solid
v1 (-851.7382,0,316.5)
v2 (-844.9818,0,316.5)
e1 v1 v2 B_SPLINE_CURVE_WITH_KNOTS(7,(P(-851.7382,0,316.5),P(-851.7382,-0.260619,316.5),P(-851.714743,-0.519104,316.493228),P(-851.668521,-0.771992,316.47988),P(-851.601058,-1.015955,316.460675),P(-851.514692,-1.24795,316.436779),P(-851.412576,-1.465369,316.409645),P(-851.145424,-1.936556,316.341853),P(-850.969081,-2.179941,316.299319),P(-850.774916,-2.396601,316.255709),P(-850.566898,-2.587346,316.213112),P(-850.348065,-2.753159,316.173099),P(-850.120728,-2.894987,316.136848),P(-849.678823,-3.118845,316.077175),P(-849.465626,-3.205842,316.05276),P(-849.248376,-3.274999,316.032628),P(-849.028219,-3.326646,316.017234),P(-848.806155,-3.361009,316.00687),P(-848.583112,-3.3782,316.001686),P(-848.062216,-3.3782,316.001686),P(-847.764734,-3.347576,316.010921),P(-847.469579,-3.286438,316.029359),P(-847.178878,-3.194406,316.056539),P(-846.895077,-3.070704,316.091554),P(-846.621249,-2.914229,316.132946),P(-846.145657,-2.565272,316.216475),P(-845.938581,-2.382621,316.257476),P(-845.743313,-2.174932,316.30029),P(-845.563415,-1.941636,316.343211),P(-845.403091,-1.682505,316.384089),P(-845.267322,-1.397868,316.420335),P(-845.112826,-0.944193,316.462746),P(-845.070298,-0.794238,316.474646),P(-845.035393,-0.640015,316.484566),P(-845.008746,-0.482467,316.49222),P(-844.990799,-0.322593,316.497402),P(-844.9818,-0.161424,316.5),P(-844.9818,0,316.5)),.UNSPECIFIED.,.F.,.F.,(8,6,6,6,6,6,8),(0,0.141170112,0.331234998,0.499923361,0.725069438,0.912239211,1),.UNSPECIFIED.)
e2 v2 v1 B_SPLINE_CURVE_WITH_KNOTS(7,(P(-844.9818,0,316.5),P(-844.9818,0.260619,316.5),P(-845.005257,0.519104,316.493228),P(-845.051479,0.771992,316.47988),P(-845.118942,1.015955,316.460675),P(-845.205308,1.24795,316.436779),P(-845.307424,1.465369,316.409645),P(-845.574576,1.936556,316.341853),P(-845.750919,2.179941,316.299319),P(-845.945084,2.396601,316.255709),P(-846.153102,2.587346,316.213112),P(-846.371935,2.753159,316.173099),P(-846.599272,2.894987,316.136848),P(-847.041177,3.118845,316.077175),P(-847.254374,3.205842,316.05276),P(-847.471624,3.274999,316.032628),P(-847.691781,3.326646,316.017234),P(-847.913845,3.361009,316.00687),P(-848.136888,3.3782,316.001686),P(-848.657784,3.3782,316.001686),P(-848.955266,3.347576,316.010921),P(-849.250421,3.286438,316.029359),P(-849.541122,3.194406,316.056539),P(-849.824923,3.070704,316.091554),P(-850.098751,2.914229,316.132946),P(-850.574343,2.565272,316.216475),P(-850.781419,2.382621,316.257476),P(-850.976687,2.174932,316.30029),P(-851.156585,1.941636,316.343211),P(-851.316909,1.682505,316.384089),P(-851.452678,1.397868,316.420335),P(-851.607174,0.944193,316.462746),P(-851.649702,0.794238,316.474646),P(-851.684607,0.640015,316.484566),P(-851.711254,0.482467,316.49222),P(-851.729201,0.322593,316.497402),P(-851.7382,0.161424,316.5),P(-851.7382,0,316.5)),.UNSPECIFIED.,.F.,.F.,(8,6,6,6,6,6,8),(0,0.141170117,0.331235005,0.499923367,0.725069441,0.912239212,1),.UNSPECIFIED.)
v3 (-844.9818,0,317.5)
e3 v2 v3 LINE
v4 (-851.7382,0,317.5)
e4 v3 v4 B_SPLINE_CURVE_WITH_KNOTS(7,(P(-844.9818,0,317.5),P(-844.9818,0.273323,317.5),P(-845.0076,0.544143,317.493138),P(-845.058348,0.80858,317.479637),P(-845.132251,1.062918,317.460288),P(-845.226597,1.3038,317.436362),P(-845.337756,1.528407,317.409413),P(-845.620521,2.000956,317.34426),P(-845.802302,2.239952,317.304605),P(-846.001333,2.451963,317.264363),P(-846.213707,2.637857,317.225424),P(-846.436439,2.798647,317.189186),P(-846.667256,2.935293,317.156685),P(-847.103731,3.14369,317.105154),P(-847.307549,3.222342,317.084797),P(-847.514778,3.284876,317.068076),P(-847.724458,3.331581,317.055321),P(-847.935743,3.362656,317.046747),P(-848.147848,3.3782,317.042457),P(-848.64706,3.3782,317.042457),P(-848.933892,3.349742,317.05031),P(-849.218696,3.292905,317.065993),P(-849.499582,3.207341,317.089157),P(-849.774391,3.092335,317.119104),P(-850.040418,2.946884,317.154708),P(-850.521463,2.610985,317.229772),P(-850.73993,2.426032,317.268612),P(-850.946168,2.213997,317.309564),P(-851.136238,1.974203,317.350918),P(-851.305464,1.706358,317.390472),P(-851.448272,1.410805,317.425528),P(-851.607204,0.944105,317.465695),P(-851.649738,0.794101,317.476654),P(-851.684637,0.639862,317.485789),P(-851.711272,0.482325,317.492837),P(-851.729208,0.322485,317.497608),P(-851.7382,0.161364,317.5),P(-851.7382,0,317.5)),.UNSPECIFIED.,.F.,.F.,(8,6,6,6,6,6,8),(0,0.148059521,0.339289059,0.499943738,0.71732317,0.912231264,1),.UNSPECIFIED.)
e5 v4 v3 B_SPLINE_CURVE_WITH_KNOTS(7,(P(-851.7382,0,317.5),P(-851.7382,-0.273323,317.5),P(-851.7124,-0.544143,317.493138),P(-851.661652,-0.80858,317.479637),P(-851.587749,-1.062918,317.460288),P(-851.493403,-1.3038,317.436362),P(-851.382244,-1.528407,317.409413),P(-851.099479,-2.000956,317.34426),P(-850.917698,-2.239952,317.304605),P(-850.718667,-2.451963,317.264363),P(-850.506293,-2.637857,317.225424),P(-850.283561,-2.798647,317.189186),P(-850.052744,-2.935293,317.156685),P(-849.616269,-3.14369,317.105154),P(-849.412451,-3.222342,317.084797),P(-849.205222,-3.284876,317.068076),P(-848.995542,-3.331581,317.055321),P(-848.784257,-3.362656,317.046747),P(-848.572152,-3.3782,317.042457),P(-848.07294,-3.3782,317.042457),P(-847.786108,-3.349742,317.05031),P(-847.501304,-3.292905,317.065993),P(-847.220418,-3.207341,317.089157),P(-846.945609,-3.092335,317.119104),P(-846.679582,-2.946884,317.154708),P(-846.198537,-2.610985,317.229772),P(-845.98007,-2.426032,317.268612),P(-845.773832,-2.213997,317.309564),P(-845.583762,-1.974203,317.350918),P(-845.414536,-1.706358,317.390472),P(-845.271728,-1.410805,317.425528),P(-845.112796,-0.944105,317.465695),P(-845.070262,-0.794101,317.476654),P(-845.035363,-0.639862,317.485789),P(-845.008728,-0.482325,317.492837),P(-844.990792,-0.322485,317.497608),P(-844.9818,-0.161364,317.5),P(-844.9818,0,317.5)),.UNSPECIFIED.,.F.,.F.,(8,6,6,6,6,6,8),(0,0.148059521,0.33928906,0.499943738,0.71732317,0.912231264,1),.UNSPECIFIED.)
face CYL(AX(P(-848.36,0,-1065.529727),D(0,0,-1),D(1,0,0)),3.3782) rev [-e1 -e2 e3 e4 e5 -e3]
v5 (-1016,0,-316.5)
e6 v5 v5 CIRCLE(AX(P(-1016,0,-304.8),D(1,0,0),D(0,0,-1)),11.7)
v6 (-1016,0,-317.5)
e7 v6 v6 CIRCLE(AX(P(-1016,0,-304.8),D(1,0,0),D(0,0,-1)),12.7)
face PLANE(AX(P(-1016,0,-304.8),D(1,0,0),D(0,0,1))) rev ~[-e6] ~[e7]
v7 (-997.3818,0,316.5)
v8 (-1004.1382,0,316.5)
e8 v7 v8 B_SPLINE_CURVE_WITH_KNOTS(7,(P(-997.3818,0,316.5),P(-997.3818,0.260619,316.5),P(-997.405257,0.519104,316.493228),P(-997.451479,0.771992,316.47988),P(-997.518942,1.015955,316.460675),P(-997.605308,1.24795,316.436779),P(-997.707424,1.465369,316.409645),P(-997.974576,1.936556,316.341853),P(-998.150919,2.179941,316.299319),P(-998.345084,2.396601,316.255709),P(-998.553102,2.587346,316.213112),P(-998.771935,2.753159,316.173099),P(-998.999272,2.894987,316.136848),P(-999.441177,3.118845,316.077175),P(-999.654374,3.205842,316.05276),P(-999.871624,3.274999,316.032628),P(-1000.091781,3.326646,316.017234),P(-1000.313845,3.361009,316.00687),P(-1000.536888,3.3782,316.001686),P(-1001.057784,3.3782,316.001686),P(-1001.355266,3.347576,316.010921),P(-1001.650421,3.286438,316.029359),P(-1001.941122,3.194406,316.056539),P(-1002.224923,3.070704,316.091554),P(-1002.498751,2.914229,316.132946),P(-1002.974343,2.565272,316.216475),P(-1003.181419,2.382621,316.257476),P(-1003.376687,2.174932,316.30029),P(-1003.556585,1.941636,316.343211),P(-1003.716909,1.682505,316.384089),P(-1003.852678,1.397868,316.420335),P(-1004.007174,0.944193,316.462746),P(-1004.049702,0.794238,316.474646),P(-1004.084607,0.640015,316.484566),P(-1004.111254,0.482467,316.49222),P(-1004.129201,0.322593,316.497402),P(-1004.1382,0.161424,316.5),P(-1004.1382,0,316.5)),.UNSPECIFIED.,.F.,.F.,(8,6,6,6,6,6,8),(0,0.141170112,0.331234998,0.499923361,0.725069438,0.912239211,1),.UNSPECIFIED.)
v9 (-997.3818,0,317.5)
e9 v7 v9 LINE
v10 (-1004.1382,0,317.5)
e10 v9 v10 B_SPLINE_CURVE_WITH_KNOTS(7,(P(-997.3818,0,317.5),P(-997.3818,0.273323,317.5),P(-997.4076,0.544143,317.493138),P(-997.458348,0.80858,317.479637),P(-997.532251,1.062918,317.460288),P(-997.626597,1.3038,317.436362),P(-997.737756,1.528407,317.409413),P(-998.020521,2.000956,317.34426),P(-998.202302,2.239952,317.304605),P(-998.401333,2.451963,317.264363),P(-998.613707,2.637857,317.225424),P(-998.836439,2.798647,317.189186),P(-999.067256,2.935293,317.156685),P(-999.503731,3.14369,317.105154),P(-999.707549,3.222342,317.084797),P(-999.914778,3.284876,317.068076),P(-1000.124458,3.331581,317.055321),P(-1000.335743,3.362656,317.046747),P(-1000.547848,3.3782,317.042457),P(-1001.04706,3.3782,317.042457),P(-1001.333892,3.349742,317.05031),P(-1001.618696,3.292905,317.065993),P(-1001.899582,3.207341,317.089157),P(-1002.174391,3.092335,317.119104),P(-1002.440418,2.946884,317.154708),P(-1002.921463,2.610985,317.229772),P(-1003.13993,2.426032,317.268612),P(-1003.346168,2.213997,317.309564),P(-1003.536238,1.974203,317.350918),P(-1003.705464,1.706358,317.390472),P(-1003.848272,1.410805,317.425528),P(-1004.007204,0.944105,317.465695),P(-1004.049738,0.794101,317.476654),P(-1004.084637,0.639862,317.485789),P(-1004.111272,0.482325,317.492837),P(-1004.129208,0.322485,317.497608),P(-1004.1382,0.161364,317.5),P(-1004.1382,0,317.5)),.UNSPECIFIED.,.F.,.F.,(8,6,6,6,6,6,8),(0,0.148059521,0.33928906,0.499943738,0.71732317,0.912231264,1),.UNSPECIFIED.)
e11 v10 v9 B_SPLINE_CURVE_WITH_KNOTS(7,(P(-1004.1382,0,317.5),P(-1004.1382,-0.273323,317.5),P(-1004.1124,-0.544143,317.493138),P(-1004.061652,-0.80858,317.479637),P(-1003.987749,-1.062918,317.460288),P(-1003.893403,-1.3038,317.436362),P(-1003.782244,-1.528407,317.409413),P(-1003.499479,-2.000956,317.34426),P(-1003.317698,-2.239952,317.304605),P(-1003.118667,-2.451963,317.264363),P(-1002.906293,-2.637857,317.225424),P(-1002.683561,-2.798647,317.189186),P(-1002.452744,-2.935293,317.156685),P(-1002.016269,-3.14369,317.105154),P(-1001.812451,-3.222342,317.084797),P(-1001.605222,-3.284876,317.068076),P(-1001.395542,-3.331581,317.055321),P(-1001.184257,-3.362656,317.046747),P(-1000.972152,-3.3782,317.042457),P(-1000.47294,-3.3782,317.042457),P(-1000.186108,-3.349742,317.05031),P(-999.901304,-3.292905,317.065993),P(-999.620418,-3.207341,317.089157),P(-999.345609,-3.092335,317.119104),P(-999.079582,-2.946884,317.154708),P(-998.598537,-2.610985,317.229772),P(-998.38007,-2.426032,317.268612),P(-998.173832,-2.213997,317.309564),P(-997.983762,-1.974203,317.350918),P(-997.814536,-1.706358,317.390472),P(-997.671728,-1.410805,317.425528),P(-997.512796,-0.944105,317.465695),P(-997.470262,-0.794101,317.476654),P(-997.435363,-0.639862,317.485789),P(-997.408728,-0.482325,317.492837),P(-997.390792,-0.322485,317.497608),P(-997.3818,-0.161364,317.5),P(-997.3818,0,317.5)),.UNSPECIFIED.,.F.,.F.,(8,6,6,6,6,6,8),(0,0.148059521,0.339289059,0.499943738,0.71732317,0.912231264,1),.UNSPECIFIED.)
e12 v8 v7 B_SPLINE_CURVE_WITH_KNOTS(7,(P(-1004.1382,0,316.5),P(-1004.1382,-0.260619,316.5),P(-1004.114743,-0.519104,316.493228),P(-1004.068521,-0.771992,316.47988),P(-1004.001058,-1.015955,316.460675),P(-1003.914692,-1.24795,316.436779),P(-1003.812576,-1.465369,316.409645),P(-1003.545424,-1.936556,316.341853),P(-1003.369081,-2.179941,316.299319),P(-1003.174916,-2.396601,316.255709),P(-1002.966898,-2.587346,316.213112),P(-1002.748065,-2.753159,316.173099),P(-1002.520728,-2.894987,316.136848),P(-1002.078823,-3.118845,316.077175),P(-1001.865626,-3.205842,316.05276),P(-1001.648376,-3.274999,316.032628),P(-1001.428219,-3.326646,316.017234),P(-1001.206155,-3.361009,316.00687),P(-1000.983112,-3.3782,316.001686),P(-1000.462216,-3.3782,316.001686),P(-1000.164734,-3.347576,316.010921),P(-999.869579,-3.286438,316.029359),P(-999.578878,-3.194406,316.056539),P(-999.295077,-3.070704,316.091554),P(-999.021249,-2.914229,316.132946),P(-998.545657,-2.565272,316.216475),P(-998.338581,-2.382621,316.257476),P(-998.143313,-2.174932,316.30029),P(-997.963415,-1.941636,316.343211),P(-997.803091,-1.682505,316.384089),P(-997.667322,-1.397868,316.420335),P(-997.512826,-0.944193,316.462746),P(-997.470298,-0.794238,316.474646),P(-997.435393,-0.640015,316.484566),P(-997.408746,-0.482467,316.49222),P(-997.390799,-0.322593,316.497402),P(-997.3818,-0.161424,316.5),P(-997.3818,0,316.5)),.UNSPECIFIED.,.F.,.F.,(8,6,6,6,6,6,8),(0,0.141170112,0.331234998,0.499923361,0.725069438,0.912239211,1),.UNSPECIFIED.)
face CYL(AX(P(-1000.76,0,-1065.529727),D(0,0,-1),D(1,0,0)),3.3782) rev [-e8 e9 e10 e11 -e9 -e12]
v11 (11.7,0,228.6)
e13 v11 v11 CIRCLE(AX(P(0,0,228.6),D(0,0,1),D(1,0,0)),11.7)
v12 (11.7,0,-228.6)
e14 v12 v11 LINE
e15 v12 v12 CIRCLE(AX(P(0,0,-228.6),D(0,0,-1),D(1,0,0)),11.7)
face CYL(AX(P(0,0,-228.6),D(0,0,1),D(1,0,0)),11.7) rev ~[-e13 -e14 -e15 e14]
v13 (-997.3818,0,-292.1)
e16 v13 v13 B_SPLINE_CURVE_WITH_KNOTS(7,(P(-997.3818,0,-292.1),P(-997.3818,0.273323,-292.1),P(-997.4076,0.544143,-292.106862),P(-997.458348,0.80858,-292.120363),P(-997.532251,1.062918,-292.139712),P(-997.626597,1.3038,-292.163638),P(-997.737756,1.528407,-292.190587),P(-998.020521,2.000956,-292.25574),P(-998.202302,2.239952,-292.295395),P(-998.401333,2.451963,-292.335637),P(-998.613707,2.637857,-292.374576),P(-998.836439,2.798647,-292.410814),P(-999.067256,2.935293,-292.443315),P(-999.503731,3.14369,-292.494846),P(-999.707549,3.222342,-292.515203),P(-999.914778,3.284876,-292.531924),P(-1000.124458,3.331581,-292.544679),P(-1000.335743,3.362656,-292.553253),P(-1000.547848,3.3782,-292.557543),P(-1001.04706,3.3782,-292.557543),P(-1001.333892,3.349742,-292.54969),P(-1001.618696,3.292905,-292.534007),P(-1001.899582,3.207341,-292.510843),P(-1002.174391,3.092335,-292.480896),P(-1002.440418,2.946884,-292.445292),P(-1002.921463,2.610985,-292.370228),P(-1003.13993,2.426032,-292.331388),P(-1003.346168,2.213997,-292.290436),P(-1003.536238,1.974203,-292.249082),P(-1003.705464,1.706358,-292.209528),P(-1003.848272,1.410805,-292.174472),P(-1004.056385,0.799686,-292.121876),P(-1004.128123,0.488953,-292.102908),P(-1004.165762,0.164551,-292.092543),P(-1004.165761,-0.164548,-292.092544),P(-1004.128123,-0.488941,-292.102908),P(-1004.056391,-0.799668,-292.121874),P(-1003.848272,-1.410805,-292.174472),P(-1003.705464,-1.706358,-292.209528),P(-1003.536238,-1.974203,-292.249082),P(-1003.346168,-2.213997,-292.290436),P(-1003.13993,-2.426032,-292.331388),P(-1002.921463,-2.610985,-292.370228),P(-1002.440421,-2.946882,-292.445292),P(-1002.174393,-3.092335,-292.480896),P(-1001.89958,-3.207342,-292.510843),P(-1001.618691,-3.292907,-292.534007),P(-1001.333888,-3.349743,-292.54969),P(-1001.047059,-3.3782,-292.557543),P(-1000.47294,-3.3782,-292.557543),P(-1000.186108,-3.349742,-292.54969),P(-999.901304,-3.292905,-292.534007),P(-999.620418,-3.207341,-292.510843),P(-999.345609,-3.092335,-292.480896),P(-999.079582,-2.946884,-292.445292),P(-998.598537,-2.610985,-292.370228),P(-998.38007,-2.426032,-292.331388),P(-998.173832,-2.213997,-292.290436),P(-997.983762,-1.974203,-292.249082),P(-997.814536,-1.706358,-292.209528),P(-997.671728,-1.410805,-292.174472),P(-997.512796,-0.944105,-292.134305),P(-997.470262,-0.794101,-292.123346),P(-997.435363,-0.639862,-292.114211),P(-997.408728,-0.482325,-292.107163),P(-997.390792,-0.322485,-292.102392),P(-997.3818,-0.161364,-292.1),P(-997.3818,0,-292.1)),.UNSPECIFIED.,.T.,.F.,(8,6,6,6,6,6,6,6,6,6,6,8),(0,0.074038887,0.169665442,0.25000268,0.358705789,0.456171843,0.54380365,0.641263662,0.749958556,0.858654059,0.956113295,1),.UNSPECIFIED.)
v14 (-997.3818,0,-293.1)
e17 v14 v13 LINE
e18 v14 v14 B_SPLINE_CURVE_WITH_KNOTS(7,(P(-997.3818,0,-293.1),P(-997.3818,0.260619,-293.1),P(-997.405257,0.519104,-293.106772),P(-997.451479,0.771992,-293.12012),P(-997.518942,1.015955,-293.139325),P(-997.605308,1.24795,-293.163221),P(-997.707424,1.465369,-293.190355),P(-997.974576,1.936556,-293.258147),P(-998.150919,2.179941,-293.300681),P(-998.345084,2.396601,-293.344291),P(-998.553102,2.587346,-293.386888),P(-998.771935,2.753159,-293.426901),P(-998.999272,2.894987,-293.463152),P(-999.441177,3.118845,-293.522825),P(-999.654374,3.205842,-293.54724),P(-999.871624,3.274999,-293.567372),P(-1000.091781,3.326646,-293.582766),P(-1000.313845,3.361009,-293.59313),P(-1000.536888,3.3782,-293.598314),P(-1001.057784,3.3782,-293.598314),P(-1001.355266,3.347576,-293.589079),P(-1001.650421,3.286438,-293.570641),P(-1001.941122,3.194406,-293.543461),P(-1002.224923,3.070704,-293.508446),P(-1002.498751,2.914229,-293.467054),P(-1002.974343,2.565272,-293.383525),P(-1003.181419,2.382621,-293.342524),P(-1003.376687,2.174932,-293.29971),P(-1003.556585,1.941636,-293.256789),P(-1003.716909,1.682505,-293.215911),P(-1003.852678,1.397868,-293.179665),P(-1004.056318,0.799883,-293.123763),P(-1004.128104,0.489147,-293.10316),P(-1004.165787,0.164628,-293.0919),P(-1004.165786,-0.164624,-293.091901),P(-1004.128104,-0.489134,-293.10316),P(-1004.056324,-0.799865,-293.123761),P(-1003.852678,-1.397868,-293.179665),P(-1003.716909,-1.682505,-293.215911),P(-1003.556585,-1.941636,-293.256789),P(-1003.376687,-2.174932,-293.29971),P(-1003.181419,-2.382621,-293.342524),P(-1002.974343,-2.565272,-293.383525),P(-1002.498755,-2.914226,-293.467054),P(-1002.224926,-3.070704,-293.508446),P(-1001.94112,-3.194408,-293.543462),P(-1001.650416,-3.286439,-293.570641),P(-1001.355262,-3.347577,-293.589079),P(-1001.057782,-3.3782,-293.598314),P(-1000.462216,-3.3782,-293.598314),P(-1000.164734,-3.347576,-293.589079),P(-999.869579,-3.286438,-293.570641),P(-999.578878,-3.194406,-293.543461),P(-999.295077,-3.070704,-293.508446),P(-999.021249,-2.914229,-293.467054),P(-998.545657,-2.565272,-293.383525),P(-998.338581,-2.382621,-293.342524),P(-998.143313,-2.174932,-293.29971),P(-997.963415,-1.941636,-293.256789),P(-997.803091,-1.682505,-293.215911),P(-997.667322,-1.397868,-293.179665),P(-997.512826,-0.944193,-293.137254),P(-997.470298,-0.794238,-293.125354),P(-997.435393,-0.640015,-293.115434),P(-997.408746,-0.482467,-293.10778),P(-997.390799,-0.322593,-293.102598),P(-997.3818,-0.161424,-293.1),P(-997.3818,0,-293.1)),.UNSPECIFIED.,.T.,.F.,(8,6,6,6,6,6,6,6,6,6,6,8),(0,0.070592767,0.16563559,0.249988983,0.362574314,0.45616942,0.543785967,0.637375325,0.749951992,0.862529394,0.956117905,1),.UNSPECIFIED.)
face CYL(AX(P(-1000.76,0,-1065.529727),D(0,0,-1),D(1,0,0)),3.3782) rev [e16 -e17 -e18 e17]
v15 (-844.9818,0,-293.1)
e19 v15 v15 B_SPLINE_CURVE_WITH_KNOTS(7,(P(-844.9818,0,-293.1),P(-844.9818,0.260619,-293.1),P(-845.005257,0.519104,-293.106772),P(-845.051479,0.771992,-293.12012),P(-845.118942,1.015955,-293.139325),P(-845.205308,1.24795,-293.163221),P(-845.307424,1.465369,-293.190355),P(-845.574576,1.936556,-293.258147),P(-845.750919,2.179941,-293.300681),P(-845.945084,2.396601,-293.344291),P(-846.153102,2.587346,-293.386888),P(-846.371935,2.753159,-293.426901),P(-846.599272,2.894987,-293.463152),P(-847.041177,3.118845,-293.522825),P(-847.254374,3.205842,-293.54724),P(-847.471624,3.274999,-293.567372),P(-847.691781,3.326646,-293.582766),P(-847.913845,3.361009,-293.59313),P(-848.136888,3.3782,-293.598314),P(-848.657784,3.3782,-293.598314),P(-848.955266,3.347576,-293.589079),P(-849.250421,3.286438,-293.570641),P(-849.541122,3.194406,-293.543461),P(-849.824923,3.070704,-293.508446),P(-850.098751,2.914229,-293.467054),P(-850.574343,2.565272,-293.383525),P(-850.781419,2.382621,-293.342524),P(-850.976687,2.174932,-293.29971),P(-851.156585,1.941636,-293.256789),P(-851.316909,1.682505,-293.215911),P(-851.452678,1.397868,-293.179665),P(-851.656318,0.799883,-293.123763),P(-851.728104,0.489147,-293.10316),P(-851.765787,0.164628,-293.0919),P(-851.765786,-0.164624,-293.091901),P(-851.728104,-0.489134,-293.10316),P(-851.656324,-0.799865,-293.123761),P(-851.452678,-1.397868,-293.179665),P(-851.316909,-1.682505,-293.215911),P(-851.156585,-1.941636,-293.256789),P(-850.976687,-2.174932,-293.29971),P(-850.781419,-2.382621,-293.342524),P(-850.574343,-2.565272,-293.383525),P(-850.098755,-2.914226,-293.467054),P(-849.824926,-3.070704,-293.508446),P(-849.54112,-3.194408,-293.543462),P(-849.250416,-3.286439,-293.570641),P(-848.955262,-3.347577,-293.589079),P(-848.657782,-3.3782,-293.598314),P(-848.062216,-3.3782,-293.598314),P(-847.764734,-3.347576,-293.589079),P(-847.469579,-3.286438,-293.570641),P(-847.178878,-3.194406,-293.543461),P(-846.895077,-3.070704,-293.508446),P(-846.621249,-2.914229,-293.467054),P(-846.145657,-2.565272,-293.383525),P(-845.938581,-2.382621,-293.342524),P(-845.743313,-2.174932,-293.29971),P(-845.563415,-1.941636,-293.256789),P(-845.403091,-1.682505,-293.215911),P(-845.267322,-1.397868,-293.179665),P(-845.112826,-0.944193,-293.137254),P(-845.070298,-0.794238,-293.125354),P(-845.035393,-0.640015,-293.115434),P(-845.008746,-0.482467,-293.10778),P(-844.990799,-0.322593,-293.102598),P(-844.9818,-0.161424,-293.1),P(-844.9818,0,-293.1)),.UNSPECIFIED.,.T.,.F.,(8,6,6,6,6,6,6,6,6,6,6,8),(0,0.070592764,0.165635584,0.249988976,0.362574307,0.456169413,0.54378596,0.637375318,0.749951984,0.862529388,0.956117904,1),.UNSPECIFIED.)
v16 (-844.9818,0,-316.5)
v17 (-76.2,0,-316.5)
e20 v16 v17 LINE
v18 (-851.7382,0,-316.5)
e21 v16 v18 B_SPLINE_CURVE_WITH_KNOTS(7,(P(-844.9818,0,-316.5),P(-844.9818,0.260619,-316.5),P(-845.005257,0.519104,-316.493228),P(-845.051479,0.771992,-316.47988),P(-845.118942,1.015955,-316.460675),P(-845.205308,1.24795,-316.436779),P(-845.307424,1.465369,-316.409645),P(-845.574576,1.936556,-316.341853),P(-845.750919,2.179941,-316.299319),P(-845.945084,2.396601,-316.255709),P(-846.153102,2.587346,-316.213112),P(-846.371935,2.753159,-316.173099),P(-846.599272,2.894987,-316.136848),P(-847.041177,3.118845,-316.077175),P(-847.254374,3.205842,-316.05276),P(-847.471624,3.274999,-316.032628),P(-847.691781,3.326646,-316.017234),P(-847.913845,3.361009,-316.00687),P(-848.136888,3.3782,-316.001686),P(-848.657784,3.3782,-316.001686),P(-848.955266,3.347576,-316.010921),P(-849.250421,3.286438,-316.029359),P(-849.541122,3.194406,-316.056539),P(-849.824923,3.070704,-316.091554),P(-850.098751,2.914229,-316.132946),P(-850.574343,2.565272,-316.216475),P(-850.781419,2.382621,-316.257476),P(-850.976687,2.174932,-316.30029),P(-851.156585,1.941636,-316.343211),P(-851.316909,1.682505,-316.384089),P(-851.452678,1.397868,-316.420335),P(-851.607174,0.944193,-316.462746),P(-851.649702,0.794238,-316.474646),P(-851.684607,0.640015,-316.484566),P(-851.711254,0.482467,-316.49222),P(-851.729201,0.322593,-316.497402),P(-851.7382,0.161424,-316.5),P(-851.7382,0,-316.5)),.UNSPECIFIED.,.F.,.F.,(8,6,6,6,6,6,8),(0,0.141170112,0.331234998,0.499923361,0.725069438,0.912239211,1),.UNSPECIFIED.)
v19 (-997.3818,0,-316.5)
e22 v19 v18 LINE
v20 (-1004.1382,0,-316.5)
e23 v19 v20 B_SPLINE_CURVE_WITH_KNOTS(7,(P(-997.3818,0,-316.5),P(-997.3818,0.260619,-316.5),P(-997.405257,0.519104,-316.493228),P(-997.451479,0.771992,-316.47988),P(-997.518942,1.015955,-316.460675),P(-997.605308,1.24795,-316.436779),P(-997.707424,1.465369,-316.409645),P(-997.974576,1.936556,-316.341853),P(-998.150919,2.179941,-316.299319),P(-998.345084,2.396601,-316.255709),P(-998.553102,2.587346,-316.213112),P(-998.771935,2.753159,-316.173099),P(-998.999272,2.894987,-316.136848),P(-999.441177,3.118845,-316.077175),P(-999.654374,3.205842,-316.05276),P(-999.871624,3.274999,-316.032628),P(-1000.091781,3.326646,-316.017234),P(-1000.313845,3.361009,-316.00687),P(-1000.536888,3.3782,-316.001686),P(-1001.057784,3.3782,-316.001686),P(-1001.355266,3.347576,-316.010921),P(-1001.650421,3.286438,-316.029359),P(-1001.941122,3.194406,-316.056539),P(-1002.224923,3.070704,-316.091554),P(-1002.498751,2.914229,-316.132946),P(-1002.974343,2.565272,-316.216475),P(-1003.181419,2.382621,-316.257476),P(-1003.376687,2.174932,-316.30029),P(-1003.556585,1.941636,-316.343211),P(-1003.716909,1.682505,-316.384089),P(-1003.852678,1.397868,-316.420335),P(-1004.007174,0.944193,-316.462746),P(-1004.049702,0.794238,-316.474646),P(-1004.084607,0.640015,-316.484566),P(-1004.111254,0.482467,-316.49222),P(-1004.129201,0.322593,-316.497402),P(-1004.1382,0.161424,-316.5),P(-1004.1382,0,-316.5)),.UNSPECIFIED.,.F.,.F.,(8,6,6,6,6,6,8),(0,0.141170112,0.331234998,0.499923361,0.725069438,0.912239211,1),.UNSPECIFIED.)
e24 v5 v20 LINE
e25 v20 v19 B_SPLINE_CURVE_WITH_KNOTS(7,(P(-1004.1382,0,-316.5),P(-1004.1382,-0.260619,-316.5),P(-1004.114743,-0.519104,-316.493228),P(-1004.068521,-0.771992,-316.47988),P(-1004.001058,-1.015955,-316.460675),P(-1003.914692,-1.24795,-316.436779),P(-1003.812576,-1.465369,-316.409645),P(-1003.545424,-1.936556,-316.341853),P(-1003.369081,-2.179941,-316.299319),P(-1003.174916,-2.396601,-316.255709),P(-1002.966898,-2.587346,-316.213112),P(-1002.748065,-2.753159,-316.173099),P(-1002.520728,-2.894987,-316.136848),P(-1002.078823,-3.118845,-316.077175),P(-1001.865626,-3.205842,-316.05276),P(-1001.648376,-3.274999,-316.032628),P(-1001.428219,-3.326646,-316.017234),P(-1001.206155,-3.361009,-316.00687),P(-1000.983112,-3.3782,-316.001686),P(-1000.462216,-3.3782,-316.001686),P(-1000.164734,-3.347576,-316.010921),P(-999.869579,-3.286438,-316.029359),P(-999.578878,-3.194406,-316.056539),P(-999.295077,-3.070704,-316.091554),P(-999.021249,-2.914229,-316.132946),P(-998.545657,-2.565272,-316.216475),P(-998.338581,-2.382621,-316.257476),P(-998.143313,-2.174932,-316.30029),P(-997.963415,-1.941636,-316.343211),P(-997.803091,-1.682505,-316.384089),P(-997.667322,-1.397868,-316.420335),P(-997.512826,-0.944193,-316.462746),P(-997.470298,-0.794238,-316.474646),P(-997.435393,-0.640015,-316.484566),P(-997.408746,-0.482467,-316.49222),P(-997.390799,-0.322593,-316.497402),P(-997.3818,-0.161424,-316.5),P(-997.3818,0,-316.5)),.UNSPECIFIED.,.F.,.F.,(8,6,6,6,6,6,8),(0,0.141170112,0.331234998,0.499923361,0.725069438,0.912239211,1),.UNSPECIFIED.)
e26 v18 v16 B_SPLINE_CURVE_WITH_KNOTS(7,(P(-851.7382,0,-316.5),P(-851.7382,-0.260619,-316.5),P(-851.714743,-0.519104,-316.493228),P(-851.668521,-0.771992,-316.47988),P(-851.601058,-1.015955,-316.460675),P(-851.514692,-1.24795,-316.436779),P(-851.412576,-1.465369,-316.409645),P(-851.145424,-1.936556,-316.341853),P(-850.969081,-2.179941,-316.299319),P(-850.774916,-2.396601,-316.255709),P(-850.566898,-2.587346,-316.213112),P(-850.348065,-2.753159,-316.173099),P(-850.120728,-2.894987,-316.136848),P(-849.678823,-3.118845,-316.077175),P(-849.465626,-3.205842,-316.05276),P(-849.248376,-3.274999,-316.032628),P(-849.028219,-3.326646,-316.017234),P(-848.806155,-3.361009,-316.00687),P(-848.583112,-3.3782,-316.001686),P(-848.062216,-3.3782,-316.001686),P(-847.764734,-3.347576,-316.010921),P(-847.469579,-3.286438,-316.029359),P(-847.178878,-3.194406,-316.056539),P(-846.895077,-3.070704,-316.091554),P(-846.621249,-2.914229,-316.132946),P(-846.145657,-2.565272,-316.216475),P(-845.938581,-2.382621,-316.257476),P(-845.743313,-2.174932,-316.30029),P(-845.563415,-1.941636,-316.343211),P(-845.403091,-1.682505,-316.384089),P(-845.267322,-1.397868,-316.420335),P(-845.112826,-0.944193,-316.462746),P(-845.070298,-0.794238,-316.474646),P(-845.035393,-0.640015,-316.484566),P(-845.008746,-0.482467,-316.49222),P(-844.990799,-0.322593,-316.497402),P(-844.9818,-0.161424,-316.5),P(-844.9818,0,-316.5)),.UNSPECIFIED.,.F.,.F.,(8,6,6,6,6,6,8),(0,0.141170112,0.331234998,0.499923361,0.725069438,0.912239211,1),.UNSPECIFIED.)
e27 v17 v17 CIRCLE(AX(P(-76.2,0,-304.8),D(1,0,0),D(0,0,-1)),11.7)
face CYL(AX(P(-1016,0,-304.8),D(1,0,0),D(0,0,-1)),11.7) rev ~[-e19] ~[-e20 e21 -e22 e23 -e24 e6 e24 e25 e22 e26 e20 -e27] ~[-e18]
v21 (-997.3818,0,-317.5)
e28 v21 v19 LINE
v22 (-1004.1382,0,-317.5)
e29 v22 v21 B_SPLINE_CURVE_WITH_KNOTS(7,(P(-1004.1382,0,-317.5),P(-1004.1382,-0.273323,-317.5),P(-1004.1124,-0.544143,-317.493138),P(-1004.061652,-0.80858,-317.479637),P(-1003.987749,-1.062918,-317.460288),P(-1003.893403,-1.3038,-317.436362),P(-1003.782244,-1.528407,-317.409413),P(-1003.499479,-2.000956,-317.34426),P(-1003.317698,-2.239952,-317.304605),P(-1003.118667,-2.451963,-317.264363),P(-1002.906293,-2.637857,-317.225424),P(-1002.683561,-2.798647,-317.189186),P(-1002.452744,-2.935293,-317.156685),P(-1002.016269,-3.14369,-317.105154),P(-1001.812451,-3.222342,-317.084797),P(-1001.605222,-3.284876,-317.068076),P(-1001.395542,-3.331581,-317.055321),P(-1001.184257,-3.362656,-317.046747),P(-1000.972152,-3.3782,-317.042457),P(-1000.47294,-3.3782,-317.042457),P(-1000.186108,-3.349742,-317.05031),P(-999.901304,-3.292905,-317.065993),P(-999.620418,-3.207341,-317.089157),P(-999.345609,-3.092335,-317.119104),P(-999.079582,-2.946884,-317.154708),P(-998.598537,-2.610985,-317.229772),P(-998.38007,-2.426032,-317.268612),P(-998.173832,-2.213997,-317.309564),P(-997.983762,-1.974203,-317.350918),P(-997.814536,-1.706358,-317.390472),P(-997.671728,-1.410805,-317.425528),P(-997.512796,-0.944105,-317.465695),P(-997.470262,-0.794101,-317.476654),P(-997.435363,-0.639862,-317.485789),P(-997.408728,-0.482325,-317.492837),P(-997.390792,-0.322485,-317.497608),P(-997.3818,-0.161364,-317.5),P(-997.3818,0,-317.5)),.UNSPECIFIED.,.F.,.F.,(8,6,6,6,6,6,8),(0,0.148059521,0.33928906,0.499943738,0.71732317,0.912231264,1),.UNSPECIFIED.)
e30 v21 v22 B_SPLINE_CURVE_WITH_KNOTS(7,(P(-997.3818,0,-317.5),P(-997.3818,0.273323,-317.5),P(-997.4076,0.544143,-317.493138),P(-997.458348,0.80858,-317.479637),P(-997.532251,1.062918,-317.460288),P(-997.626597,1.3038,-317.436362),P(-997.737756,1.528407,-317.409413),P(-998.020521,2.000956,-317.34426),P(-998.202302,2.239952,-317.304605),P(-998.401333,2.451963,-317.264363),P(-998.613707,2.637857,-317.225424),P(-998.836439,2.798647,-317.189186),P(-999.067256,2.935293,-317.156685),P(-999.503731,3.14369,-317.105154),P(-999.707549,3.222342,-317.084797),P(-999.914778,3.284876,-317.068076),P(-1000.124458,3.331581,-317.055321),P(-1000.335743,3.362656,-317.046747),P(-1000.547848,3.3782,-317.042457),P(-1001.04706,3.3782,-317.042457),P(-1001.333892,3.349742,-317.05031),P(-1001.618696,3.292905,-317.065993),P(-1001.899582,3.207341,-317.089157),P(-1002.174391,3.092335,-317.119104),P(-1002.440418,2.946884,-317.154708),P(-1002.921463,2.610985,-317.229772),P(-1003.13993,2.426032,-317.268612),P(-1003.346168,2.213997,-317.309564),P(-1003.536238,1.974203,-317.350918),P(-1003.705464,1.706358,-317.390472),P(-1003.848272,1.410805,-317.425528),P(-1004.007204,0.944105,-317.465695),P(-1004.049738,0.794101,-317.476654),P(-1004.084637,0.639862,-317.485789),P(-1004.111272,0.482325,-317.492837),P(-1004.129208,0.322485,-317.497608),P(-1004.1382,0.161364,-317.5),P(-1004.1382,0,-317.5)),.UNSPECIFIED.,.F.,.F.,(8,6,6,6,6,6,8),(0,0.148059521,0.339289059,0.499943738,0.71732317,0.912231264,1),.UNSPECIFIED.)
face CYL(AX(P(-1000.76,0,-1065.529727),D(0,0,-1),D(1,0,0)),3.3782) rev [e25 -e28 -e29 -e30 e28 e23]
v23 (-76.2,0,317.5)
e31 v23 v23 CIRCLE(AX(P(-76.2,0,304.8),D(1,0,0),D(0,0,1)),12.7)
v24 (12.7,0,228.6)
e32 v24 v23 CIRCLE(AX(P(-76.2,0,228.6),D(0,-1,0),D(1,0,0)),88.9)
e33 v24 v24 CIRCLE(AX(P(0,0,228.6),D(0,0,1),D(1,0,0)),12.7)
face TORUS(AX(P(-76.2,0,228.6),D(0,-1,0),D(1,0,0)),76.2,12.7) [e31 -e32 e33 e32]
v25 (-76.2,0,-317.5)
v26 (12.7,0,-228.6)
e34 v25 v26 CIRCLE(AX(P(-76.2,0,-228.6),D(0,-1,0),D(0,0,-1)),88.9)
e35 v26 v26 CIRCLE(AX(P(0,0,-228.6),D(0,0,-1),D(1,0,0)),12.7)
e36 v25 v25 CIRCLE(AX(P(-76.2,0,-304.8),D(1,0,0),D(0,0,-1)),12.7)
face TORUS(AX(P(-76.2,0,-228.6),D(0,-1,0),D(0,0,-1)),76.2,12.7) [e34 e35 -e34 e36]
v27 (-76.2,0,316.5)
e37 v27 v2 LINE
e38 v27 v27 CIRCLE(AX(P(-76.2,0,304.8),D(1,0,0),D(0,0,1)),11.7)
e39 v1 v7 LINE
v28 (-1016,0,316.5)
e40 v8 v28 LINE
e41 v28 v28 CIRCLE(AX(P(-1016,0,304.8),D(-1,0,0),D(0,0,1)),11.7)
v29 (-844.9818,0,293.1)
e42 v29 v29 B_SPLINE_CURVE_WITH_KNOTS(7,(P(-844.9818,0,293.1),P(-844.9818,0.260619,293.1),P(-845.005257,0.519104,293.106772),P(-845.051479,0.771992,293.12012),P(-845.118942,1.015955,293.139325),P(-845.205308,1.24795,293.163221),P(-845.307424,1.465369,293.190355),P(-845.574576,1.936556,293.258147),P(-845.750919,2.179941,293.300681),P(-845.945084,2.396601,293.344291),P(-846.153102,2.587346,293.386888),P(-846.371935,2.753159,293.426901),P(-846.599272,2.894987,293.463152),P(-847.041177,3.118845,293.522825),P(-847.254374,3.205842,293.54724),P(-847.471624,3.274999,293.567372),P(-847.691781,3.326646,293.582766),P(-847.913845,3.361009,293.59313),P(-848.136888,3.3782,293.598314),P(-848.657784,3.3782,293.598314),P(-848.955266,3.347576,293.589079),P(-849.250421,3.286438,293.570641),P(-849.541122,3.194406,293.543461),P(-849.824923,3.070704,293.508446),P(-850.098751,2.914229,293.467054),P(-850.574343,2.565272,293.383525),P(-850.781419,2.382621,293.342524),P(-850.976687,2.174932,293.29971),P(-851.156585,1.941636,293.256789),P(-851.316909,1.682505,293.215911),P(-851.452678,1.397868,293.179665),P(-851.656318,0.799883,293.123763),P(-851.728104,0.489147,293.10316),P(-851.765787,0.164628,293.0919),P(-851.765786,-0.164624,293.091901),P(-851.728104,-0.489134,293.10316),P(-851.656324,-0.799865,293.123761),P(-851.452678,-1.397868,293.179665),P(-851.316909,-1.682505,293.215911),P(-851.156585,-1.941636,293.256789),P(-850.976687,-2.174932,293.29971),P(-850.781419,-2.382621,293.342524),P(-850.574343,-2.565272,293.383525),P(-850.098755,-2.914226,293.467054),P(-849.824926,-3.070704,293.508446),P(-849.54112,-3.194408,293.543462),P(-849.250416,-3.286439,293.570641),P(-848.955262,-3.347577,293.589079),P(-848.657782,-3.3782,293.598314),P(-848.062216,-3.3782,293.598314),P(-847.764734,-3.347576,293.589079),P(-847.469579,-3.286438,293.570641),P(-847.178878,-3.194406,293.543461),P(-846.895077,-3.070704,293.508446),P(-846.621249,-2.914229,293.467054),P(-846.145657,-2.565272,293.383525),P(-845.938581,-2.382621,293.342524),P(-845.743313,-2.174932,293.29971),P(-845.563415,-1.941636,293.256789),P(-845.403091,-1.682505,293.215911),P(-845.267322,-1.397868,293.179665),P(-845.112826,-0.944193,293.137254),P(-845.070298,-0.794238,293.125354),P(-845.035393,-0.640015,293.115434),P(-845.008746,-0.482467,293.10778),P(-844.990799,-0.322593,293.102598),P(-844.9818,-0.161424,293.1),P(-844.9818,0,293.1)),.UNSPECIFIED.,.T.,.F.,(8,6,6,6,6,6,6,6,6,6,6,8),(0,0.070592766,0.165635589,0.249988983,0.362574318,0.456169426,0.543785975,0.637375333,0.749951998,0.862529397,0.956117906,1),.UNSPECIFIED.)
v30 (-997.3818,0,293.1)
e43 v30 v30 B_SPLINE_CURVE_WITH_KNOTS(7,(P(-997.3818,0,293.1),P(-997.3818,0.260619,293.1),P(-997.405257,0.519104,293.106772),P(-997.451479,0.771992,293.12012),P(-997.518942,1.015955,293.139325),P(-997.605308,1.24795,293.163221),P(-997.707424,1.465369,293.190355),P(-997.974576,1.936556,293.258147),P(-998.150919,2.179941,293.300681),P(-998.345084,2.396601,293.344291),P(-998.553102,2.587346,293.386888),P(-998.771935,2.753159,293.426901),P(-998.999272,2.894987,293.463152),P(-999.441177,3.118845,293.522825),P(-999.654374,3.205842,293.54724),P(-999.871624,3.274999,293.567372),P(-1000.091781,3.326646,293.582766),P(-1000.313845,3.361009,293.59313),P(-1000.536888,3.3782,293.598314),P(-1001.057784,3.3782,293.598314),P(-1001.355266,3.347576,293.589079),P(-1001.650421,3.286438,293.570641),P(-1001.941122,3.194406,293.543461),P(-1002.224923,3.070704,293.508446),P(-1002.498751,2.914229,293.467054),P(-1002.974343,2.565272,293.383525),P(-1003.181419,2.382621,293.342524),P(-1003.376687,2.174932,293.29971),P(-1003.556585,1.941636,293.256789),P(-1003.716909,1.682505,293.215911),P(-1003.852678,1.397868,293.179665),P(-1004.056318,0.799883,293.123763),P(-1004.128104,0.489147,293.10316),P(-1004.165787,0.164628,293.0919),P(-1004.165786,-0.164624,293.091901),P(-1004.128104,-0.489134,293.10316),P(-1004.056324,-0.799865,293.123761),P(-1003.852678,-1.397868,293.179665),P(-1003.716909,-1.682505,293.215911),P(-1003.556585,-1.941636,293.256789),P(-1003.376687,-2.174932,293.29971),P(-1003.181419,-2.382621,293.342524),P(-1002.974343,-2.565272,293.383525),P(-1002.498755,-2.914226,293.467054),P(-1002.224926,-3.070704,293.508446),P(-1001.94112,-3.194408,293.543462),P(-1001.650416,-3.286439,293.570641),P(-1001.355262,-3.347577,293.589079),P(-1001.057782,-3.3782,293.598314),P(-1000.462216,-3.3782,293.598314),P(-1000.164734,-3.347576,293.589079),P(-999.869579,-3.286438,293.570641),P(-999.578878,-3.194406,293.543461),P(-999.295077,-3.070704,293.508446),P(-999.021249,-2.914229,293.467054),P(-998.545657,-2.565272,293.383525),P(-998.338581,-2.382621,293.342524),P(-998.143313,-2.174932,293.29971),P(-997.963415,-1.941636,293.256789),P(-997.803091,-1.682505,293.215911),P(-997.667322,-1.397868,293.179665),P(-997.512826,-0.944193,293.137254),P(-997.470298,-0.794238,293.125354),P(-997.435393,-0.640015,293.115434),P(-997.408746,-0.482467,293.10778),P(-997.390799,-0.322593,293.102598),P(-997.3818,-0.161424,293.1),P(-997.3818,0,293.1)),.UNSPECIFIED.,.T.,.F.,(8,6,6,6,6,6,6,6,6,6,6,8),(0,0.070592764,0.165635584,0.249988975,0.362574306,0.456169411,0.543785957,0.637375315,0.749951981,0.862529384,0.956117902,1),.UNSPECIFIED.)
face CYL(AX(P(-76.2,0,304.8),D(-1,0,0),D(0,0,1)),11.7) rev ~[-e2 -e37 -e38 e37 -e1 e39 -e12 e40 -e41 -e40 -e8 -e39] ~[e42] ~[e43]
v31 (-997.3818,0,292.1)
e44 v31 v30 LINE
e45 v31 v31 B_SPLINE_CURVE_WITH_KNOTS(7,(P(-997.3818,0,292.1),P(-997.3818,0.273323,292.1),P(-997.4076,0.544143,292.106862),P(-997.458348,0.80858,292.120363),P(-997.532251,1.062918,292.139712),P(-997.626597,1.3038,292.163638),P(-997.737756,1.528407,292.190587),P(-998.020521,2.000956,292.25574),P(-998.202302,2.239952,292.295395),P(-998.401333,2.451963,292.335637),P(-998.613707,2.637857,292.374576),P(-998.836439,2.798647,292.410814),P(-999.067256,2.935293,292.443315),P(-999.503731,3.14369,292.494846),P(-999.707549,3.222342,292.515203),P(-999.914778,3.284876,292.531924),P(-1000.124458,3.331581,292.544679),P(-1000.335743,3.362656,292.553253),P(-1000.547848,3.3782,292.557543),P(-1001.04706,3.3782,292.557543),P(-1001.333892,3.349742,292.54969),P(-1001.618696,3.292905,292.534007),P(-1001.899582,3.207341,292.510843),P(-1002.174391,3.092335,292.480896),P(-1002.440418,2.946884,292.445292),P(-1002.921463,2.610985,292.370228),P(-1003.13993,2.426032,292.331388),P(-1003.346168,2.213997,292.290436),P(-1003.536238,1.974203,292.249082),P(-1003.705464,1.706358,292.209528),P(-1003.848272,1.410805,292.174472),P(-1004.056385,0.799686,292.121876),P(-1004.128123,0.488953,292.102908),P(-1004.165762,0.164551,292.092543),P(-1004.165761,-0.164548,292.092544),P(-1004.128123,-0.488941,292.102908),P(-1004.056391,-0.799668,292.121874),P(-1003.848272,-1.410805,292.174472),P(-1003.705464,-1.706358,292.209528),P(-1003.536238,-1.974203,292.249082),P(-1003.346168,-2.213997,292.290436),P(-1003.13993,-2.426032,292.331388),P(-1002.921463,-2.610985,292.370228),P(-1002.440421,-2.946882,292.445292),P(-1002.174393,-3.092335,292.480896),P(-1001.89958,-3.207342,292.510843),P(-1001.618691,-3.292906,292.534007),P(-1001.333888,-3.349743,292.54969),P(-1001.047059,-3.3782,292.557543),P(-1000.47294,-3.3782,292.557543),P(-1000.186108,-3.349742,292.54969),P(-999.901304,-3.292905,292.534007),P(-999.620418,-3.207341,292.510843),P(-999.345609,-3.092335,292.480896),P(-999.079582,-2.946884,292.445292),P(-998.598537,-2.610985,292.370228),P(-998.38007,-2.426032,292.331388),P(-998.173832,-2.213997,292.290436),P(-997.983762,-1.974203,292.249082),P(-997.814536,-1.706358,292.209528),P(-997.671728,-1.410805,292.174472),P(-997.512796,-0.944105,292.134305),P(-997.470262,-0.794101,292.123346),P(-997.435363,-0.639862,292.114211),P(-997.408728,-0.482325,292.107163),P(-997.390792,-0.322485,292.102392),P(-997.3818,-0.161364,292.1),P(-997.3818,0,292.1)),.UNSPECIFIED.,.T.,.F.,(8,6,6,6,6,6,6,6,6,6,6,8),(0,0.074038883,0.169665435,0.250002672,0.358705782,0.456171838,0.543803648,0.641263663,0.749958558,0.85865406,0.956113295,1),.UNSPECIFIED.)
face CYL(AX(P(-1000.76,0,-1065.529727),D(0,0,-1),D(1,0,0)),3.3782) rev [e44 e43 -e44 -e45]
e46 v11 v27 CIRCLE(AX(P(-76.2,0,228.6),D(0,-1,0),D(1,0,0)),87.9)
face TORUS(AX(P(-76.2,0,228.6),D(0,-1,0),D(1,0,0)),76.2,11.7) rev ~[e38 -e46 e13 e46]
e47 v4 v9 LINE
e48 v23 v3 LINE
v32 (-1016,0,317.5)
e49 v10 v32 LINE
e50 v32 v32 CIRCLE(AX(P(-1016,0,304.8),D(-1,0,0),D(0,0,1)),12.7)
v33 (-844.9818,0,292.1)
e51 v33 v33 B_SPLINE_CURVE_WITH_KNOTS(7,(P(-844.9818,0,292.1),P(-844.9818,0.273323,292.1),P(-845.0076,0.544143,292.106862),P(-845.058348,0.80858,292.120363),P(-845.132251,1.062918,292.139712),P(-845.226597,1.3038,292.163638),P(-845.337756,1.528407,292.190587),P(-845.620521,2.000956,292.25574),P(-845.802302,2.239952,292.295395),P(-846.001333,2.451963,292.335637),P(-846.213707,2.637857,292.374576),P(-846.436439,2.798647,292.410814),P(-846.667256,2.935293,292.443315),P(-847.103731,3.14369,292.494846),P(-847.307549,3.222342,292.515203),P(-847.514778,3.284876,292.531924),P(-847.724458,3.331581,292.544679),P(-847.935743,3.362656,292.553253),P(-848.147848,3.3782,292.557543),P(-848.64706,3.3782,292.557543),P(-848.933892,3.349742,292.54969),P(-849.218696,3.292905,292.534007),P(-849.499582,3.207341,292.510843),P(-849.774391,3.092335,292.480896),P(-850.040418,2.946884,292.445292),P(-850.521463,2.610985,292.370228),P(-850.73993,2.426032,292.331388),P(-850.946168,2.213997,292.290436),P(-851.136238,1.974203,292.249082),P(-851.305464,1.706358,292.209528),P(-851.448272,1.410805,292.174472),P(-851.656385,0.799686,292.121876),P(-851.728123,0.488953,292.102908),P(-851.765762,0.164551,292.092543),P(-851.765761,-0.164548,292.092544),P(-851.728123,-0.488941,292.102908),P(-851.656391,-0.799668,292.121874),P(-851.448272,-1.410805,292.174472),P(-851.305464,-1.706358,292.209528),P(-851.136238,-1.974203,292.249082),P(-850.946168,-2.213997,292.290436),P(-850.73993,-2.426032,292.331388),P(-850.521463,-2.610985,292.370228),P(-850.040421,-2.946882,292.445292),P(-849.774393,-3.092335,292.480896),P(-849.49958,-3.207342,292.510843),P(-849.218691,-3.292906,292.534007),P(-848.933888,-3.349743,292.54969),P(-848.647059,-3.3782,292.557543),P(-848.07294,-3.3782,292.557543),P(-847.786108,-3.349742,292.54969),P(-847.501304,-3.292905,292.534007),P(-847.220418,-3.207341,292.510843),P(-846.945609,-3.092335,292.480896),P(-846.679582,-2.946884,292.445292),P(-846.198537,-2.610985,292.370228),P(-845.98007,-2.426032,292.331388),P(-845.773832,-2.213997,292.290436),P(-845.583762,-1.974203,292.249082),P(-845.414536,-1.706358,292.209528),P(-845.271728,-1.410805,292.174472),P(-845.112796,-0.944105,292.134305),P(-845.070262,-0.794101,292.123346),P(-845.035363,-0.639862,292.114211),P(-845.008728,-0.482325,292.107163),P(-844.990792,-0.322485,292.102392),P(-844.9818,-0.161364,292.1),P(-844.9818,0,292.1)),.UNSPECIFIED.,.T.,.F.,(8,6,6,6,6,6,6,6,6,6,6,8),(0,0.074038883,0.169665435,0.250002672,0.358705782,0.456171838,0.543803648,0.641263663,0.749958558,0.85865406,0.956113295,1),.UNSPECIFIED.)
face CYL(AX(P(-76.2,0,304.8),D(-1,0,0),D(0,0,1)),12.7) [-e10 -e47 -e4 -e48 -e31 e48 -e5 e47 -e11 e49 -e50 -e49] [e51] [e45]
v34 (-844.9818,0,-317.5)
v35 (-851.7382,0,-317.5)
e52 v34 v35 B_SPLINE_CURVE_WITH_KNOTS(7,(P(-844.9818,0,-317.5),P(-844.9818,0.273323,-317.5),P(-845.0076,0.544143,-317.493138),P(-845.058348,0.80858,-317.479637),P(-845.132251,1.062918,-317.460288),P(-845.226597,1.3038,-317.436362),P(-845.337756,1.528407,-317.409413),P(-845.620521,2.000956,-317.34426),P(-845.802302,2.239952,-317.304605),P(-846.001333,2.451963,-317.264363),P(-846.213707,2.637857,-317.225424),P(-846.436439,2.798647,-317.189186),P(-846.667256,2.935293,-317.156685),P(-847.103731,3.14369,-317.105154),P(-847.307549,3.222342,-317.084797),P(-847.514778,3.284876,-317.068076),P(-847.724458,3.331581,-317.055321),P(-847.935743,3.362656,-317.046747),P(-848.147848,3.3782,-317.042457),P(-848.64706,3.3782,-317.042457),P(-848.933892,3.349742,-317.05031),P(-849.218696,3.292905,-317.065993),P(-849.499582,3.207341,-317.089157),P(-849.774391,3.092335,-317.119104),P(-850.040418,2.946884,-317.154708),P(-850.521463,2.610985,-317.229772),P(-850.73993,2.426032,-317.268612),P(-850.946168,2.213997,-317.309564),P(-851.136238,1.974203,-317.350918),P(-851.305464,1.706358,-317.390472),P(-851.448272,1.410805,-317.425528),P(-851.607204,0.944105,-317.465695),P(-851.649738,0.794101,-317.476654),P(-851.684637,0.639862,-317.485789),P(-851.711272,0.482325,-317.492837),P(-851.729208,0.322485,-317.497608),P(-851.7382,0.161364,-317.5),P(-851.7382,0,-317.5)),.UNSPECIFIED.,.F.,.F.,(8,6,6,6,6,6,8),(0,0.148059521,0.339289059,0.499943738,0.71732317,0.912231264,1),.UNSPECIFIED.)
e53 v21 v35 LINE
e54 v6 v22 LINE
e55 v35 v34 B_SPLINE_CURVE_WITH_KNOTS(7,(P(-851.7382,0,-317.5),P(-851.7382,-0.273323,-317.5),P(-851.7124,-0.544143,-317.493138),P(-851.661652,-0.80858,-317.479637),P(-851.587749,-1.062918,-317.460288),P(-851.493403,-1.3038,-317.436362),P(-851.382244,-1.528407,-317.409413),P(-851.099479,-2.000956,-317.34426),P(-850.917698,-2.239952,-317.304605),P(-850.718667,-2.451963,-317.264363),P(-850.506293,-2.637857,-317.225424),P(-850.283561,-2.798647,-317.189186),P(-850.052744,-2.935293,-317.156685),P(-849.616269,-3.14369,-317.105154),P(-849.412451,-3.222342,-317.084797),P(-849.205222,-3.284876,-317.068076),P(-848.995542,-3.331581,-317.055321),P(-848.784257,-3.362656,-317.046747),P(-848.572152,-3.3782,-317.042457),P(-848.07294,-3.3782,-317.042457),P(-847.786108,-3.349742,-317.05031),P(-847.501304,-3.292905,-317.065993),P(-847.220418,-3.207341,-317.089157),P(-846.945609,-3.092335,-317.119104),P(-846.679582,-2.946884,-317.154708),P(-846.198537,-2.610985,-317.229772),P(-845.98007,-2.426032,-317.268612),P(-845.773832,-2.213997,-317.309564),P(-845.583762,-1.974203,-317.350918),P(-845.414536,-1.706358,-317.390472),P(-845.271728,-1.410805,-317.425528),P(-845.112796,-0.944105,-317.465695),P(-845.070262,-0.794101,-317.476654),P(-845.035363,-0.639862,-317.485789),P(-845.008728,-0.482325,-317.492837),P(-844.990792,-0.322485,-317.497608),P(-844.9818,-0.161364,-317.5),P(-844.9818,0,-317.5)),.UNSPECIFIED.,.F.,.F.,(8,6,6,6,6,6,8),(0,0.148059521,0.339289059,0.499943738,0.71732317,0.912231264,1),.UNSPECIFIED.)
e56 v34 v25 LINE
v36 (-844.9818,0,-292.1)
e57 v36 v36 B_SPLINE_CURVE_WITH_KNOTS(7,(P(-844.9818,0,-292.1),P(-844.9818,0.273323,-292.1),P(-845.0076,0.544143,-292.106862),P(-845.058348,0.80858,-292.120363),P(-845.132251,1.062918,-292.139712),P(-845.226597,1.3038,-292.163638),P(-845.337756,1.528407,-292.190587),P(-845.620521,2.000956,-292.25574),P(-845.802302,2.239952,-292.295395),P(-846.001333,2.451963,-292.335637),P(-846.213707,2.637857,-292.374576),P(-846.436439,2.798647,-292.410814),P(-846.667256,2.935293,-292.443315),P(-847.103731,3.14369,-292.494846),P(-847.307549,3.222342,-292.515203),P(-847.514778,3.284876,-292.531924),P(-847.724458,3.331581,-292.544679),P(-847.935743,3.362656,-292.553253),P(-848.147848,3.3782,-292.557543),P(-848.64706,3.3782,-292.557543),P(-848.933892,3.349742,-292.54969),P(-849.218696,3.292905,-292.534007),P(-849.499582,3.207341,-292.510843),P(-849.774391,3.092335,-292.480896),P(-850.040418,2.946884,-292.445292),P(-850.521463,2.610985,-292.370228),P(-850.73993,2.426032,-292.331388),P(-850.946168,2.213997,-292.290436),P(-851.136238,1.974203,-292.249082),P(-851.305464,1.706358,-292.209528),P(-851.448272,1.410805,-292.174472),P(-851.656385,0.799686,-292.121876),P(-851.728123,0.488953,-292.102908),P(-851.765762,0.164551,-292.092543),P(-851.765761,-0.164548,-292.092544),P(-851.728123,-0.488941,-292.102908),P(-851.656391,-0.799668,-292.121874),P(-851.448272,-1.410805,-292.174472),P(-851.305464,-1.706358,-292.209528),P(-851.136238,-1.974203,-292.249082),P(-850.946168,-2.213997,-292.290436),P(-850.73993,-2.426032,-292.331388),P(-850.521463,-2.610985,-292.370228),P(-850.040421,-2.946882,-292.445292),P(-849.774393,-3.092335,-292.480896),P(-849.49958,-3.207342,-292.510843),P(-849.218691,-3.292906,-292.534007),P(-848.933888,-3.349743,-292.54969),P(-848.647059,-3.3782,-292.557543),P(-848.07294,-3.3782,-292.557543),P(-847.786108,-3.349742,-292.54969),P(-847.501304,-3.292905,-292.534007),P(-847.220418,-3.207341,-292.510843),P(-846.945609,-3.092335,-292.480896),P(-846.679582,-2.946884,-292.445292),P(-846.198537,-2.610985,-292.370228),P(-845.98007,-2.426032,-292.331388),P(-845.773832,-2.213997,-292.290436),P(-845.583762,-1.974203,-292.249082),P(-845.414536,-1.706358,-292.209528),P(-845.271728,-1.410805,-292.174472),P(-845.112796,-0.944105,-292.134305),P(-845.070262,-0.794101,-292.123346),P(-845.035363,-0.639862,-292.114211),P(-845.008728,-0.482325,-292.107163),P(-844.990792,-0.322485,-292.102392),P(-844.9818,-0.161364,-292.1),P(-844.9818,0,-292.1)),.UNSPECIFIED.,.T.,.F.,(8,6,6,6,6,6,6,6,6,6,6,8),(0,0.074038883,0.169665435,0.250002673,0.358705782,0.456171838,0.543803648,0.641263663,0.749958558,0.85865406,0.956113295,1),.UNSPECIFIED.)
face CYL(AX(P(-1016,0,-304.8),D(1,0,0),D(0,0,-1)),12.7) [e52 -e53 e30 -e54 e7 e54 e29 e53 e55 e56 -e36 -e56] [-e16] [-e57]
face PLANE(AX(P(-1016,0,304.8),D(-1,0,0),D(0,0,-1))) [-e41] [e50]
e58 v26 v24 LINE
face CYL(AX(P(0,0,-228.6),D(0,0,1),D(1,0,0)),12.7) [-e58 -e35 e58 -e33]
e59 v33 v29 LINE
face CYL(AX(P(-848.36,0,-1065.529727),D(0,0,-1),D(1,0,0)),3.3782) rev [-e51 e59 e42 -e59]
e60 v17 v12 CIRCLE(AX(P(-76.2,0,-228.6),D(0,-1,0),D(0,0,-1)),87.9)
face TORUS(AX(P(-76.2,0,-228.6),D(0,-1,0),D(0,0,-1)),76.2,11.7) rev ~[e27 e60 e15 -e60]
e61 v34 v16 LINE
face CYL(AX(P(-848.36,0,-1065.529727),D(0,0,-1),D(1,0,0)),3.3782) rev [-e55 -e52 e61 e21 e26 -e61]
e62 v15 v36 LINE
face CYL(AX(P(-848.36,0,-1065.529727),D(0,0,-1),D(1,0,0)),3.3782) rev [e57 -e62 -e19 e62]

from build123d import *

# Parameters (mm, degrees)
SKETCH2_R               = 12.7
SKETCH2_R_2             = 11.7
CUT_EXTRUDE1_DEPTH      = 1065.529727188
CUT_EXTRUDE1_DEPTH_BACK = 1065.529727188
SKETCH3_R               = 3.3782
CUT_EXTRUDE2_DEPTH      = 1065.529727283
CUT_EXTRUDE2_DEPTH_BACK = 1065.529727283
SKETCH4_R               = 3.3782


with BuildPart() as part:
    # Sweep-Thin1: sweep along a path in Sketch1
    with BuildLine(Plane(origin=(0, 0, 0), x_dir=(1, 0, 0), z_dir=(0, 1, 0))) as sweep_thin1_path:
        Line((-1016, 304.8), (-76.2, 304.8))
        ThreePointArc((-76.2, 304.8), (-22.318463274, 282.481536726), (0, 228.6))
        Line((0, 228.6), (0, -228.6))
        ThreePointArc((0, -228.6), (-22.318463274, -282.481536726), (-76.2, -304.8))
        Line((-76.2, -304.8), (-1016, -304.8))
    # Sketch2 → Sweep-Thin1 (sweep)
    with BuildSketch(Plane(origin=(-1016, 0, 0), x_dir=(0, 0, -1), z_dir=(1, 0, 0))):
        with Locations((304.8, 0)):
            Circle(SKETCH2_R)
        with Locations((304.8, 0)):
            Circle(SKETCH2_R_2, mode=Mode.SUBTRACT)
    sweep(path=sweep_thin1_path.line)

    # Sketch3 → Cut-Extrude1 (cut, two sides: drawn at the far end of the back side and taken through both)
    with BuildSketch(Plane.XY.offset(-CUT_EXTRUDE1_DEPTH_BACK)):
        with Locations((-1000.76, 0)):
            Circle(SKETCH3_R)
    extrude(amount=CUT_EXTRUDE1_DEPTH + CUT_EXTRUDE1_DEPTH_BACK, mode=Mode.SUBTRACT)

    # Sketch4 → Cut-Extrude2 (cut, two sides: drawn at the far end of the back side and taken through both)
    with BuildSketch(Plane.XY.offset(-CUT_EXTRUDE2_DEPTH_BACK)):
        with Locations((-848.36, 0)):
            Circle(SKETCH4_R)
    extrude(amount=CUT_EXTRUDE2_DEPTH + CUT_EXTRUDE2_DEPTH_BACK, mode=Mode.SUBTRACT)


solid = part.part
